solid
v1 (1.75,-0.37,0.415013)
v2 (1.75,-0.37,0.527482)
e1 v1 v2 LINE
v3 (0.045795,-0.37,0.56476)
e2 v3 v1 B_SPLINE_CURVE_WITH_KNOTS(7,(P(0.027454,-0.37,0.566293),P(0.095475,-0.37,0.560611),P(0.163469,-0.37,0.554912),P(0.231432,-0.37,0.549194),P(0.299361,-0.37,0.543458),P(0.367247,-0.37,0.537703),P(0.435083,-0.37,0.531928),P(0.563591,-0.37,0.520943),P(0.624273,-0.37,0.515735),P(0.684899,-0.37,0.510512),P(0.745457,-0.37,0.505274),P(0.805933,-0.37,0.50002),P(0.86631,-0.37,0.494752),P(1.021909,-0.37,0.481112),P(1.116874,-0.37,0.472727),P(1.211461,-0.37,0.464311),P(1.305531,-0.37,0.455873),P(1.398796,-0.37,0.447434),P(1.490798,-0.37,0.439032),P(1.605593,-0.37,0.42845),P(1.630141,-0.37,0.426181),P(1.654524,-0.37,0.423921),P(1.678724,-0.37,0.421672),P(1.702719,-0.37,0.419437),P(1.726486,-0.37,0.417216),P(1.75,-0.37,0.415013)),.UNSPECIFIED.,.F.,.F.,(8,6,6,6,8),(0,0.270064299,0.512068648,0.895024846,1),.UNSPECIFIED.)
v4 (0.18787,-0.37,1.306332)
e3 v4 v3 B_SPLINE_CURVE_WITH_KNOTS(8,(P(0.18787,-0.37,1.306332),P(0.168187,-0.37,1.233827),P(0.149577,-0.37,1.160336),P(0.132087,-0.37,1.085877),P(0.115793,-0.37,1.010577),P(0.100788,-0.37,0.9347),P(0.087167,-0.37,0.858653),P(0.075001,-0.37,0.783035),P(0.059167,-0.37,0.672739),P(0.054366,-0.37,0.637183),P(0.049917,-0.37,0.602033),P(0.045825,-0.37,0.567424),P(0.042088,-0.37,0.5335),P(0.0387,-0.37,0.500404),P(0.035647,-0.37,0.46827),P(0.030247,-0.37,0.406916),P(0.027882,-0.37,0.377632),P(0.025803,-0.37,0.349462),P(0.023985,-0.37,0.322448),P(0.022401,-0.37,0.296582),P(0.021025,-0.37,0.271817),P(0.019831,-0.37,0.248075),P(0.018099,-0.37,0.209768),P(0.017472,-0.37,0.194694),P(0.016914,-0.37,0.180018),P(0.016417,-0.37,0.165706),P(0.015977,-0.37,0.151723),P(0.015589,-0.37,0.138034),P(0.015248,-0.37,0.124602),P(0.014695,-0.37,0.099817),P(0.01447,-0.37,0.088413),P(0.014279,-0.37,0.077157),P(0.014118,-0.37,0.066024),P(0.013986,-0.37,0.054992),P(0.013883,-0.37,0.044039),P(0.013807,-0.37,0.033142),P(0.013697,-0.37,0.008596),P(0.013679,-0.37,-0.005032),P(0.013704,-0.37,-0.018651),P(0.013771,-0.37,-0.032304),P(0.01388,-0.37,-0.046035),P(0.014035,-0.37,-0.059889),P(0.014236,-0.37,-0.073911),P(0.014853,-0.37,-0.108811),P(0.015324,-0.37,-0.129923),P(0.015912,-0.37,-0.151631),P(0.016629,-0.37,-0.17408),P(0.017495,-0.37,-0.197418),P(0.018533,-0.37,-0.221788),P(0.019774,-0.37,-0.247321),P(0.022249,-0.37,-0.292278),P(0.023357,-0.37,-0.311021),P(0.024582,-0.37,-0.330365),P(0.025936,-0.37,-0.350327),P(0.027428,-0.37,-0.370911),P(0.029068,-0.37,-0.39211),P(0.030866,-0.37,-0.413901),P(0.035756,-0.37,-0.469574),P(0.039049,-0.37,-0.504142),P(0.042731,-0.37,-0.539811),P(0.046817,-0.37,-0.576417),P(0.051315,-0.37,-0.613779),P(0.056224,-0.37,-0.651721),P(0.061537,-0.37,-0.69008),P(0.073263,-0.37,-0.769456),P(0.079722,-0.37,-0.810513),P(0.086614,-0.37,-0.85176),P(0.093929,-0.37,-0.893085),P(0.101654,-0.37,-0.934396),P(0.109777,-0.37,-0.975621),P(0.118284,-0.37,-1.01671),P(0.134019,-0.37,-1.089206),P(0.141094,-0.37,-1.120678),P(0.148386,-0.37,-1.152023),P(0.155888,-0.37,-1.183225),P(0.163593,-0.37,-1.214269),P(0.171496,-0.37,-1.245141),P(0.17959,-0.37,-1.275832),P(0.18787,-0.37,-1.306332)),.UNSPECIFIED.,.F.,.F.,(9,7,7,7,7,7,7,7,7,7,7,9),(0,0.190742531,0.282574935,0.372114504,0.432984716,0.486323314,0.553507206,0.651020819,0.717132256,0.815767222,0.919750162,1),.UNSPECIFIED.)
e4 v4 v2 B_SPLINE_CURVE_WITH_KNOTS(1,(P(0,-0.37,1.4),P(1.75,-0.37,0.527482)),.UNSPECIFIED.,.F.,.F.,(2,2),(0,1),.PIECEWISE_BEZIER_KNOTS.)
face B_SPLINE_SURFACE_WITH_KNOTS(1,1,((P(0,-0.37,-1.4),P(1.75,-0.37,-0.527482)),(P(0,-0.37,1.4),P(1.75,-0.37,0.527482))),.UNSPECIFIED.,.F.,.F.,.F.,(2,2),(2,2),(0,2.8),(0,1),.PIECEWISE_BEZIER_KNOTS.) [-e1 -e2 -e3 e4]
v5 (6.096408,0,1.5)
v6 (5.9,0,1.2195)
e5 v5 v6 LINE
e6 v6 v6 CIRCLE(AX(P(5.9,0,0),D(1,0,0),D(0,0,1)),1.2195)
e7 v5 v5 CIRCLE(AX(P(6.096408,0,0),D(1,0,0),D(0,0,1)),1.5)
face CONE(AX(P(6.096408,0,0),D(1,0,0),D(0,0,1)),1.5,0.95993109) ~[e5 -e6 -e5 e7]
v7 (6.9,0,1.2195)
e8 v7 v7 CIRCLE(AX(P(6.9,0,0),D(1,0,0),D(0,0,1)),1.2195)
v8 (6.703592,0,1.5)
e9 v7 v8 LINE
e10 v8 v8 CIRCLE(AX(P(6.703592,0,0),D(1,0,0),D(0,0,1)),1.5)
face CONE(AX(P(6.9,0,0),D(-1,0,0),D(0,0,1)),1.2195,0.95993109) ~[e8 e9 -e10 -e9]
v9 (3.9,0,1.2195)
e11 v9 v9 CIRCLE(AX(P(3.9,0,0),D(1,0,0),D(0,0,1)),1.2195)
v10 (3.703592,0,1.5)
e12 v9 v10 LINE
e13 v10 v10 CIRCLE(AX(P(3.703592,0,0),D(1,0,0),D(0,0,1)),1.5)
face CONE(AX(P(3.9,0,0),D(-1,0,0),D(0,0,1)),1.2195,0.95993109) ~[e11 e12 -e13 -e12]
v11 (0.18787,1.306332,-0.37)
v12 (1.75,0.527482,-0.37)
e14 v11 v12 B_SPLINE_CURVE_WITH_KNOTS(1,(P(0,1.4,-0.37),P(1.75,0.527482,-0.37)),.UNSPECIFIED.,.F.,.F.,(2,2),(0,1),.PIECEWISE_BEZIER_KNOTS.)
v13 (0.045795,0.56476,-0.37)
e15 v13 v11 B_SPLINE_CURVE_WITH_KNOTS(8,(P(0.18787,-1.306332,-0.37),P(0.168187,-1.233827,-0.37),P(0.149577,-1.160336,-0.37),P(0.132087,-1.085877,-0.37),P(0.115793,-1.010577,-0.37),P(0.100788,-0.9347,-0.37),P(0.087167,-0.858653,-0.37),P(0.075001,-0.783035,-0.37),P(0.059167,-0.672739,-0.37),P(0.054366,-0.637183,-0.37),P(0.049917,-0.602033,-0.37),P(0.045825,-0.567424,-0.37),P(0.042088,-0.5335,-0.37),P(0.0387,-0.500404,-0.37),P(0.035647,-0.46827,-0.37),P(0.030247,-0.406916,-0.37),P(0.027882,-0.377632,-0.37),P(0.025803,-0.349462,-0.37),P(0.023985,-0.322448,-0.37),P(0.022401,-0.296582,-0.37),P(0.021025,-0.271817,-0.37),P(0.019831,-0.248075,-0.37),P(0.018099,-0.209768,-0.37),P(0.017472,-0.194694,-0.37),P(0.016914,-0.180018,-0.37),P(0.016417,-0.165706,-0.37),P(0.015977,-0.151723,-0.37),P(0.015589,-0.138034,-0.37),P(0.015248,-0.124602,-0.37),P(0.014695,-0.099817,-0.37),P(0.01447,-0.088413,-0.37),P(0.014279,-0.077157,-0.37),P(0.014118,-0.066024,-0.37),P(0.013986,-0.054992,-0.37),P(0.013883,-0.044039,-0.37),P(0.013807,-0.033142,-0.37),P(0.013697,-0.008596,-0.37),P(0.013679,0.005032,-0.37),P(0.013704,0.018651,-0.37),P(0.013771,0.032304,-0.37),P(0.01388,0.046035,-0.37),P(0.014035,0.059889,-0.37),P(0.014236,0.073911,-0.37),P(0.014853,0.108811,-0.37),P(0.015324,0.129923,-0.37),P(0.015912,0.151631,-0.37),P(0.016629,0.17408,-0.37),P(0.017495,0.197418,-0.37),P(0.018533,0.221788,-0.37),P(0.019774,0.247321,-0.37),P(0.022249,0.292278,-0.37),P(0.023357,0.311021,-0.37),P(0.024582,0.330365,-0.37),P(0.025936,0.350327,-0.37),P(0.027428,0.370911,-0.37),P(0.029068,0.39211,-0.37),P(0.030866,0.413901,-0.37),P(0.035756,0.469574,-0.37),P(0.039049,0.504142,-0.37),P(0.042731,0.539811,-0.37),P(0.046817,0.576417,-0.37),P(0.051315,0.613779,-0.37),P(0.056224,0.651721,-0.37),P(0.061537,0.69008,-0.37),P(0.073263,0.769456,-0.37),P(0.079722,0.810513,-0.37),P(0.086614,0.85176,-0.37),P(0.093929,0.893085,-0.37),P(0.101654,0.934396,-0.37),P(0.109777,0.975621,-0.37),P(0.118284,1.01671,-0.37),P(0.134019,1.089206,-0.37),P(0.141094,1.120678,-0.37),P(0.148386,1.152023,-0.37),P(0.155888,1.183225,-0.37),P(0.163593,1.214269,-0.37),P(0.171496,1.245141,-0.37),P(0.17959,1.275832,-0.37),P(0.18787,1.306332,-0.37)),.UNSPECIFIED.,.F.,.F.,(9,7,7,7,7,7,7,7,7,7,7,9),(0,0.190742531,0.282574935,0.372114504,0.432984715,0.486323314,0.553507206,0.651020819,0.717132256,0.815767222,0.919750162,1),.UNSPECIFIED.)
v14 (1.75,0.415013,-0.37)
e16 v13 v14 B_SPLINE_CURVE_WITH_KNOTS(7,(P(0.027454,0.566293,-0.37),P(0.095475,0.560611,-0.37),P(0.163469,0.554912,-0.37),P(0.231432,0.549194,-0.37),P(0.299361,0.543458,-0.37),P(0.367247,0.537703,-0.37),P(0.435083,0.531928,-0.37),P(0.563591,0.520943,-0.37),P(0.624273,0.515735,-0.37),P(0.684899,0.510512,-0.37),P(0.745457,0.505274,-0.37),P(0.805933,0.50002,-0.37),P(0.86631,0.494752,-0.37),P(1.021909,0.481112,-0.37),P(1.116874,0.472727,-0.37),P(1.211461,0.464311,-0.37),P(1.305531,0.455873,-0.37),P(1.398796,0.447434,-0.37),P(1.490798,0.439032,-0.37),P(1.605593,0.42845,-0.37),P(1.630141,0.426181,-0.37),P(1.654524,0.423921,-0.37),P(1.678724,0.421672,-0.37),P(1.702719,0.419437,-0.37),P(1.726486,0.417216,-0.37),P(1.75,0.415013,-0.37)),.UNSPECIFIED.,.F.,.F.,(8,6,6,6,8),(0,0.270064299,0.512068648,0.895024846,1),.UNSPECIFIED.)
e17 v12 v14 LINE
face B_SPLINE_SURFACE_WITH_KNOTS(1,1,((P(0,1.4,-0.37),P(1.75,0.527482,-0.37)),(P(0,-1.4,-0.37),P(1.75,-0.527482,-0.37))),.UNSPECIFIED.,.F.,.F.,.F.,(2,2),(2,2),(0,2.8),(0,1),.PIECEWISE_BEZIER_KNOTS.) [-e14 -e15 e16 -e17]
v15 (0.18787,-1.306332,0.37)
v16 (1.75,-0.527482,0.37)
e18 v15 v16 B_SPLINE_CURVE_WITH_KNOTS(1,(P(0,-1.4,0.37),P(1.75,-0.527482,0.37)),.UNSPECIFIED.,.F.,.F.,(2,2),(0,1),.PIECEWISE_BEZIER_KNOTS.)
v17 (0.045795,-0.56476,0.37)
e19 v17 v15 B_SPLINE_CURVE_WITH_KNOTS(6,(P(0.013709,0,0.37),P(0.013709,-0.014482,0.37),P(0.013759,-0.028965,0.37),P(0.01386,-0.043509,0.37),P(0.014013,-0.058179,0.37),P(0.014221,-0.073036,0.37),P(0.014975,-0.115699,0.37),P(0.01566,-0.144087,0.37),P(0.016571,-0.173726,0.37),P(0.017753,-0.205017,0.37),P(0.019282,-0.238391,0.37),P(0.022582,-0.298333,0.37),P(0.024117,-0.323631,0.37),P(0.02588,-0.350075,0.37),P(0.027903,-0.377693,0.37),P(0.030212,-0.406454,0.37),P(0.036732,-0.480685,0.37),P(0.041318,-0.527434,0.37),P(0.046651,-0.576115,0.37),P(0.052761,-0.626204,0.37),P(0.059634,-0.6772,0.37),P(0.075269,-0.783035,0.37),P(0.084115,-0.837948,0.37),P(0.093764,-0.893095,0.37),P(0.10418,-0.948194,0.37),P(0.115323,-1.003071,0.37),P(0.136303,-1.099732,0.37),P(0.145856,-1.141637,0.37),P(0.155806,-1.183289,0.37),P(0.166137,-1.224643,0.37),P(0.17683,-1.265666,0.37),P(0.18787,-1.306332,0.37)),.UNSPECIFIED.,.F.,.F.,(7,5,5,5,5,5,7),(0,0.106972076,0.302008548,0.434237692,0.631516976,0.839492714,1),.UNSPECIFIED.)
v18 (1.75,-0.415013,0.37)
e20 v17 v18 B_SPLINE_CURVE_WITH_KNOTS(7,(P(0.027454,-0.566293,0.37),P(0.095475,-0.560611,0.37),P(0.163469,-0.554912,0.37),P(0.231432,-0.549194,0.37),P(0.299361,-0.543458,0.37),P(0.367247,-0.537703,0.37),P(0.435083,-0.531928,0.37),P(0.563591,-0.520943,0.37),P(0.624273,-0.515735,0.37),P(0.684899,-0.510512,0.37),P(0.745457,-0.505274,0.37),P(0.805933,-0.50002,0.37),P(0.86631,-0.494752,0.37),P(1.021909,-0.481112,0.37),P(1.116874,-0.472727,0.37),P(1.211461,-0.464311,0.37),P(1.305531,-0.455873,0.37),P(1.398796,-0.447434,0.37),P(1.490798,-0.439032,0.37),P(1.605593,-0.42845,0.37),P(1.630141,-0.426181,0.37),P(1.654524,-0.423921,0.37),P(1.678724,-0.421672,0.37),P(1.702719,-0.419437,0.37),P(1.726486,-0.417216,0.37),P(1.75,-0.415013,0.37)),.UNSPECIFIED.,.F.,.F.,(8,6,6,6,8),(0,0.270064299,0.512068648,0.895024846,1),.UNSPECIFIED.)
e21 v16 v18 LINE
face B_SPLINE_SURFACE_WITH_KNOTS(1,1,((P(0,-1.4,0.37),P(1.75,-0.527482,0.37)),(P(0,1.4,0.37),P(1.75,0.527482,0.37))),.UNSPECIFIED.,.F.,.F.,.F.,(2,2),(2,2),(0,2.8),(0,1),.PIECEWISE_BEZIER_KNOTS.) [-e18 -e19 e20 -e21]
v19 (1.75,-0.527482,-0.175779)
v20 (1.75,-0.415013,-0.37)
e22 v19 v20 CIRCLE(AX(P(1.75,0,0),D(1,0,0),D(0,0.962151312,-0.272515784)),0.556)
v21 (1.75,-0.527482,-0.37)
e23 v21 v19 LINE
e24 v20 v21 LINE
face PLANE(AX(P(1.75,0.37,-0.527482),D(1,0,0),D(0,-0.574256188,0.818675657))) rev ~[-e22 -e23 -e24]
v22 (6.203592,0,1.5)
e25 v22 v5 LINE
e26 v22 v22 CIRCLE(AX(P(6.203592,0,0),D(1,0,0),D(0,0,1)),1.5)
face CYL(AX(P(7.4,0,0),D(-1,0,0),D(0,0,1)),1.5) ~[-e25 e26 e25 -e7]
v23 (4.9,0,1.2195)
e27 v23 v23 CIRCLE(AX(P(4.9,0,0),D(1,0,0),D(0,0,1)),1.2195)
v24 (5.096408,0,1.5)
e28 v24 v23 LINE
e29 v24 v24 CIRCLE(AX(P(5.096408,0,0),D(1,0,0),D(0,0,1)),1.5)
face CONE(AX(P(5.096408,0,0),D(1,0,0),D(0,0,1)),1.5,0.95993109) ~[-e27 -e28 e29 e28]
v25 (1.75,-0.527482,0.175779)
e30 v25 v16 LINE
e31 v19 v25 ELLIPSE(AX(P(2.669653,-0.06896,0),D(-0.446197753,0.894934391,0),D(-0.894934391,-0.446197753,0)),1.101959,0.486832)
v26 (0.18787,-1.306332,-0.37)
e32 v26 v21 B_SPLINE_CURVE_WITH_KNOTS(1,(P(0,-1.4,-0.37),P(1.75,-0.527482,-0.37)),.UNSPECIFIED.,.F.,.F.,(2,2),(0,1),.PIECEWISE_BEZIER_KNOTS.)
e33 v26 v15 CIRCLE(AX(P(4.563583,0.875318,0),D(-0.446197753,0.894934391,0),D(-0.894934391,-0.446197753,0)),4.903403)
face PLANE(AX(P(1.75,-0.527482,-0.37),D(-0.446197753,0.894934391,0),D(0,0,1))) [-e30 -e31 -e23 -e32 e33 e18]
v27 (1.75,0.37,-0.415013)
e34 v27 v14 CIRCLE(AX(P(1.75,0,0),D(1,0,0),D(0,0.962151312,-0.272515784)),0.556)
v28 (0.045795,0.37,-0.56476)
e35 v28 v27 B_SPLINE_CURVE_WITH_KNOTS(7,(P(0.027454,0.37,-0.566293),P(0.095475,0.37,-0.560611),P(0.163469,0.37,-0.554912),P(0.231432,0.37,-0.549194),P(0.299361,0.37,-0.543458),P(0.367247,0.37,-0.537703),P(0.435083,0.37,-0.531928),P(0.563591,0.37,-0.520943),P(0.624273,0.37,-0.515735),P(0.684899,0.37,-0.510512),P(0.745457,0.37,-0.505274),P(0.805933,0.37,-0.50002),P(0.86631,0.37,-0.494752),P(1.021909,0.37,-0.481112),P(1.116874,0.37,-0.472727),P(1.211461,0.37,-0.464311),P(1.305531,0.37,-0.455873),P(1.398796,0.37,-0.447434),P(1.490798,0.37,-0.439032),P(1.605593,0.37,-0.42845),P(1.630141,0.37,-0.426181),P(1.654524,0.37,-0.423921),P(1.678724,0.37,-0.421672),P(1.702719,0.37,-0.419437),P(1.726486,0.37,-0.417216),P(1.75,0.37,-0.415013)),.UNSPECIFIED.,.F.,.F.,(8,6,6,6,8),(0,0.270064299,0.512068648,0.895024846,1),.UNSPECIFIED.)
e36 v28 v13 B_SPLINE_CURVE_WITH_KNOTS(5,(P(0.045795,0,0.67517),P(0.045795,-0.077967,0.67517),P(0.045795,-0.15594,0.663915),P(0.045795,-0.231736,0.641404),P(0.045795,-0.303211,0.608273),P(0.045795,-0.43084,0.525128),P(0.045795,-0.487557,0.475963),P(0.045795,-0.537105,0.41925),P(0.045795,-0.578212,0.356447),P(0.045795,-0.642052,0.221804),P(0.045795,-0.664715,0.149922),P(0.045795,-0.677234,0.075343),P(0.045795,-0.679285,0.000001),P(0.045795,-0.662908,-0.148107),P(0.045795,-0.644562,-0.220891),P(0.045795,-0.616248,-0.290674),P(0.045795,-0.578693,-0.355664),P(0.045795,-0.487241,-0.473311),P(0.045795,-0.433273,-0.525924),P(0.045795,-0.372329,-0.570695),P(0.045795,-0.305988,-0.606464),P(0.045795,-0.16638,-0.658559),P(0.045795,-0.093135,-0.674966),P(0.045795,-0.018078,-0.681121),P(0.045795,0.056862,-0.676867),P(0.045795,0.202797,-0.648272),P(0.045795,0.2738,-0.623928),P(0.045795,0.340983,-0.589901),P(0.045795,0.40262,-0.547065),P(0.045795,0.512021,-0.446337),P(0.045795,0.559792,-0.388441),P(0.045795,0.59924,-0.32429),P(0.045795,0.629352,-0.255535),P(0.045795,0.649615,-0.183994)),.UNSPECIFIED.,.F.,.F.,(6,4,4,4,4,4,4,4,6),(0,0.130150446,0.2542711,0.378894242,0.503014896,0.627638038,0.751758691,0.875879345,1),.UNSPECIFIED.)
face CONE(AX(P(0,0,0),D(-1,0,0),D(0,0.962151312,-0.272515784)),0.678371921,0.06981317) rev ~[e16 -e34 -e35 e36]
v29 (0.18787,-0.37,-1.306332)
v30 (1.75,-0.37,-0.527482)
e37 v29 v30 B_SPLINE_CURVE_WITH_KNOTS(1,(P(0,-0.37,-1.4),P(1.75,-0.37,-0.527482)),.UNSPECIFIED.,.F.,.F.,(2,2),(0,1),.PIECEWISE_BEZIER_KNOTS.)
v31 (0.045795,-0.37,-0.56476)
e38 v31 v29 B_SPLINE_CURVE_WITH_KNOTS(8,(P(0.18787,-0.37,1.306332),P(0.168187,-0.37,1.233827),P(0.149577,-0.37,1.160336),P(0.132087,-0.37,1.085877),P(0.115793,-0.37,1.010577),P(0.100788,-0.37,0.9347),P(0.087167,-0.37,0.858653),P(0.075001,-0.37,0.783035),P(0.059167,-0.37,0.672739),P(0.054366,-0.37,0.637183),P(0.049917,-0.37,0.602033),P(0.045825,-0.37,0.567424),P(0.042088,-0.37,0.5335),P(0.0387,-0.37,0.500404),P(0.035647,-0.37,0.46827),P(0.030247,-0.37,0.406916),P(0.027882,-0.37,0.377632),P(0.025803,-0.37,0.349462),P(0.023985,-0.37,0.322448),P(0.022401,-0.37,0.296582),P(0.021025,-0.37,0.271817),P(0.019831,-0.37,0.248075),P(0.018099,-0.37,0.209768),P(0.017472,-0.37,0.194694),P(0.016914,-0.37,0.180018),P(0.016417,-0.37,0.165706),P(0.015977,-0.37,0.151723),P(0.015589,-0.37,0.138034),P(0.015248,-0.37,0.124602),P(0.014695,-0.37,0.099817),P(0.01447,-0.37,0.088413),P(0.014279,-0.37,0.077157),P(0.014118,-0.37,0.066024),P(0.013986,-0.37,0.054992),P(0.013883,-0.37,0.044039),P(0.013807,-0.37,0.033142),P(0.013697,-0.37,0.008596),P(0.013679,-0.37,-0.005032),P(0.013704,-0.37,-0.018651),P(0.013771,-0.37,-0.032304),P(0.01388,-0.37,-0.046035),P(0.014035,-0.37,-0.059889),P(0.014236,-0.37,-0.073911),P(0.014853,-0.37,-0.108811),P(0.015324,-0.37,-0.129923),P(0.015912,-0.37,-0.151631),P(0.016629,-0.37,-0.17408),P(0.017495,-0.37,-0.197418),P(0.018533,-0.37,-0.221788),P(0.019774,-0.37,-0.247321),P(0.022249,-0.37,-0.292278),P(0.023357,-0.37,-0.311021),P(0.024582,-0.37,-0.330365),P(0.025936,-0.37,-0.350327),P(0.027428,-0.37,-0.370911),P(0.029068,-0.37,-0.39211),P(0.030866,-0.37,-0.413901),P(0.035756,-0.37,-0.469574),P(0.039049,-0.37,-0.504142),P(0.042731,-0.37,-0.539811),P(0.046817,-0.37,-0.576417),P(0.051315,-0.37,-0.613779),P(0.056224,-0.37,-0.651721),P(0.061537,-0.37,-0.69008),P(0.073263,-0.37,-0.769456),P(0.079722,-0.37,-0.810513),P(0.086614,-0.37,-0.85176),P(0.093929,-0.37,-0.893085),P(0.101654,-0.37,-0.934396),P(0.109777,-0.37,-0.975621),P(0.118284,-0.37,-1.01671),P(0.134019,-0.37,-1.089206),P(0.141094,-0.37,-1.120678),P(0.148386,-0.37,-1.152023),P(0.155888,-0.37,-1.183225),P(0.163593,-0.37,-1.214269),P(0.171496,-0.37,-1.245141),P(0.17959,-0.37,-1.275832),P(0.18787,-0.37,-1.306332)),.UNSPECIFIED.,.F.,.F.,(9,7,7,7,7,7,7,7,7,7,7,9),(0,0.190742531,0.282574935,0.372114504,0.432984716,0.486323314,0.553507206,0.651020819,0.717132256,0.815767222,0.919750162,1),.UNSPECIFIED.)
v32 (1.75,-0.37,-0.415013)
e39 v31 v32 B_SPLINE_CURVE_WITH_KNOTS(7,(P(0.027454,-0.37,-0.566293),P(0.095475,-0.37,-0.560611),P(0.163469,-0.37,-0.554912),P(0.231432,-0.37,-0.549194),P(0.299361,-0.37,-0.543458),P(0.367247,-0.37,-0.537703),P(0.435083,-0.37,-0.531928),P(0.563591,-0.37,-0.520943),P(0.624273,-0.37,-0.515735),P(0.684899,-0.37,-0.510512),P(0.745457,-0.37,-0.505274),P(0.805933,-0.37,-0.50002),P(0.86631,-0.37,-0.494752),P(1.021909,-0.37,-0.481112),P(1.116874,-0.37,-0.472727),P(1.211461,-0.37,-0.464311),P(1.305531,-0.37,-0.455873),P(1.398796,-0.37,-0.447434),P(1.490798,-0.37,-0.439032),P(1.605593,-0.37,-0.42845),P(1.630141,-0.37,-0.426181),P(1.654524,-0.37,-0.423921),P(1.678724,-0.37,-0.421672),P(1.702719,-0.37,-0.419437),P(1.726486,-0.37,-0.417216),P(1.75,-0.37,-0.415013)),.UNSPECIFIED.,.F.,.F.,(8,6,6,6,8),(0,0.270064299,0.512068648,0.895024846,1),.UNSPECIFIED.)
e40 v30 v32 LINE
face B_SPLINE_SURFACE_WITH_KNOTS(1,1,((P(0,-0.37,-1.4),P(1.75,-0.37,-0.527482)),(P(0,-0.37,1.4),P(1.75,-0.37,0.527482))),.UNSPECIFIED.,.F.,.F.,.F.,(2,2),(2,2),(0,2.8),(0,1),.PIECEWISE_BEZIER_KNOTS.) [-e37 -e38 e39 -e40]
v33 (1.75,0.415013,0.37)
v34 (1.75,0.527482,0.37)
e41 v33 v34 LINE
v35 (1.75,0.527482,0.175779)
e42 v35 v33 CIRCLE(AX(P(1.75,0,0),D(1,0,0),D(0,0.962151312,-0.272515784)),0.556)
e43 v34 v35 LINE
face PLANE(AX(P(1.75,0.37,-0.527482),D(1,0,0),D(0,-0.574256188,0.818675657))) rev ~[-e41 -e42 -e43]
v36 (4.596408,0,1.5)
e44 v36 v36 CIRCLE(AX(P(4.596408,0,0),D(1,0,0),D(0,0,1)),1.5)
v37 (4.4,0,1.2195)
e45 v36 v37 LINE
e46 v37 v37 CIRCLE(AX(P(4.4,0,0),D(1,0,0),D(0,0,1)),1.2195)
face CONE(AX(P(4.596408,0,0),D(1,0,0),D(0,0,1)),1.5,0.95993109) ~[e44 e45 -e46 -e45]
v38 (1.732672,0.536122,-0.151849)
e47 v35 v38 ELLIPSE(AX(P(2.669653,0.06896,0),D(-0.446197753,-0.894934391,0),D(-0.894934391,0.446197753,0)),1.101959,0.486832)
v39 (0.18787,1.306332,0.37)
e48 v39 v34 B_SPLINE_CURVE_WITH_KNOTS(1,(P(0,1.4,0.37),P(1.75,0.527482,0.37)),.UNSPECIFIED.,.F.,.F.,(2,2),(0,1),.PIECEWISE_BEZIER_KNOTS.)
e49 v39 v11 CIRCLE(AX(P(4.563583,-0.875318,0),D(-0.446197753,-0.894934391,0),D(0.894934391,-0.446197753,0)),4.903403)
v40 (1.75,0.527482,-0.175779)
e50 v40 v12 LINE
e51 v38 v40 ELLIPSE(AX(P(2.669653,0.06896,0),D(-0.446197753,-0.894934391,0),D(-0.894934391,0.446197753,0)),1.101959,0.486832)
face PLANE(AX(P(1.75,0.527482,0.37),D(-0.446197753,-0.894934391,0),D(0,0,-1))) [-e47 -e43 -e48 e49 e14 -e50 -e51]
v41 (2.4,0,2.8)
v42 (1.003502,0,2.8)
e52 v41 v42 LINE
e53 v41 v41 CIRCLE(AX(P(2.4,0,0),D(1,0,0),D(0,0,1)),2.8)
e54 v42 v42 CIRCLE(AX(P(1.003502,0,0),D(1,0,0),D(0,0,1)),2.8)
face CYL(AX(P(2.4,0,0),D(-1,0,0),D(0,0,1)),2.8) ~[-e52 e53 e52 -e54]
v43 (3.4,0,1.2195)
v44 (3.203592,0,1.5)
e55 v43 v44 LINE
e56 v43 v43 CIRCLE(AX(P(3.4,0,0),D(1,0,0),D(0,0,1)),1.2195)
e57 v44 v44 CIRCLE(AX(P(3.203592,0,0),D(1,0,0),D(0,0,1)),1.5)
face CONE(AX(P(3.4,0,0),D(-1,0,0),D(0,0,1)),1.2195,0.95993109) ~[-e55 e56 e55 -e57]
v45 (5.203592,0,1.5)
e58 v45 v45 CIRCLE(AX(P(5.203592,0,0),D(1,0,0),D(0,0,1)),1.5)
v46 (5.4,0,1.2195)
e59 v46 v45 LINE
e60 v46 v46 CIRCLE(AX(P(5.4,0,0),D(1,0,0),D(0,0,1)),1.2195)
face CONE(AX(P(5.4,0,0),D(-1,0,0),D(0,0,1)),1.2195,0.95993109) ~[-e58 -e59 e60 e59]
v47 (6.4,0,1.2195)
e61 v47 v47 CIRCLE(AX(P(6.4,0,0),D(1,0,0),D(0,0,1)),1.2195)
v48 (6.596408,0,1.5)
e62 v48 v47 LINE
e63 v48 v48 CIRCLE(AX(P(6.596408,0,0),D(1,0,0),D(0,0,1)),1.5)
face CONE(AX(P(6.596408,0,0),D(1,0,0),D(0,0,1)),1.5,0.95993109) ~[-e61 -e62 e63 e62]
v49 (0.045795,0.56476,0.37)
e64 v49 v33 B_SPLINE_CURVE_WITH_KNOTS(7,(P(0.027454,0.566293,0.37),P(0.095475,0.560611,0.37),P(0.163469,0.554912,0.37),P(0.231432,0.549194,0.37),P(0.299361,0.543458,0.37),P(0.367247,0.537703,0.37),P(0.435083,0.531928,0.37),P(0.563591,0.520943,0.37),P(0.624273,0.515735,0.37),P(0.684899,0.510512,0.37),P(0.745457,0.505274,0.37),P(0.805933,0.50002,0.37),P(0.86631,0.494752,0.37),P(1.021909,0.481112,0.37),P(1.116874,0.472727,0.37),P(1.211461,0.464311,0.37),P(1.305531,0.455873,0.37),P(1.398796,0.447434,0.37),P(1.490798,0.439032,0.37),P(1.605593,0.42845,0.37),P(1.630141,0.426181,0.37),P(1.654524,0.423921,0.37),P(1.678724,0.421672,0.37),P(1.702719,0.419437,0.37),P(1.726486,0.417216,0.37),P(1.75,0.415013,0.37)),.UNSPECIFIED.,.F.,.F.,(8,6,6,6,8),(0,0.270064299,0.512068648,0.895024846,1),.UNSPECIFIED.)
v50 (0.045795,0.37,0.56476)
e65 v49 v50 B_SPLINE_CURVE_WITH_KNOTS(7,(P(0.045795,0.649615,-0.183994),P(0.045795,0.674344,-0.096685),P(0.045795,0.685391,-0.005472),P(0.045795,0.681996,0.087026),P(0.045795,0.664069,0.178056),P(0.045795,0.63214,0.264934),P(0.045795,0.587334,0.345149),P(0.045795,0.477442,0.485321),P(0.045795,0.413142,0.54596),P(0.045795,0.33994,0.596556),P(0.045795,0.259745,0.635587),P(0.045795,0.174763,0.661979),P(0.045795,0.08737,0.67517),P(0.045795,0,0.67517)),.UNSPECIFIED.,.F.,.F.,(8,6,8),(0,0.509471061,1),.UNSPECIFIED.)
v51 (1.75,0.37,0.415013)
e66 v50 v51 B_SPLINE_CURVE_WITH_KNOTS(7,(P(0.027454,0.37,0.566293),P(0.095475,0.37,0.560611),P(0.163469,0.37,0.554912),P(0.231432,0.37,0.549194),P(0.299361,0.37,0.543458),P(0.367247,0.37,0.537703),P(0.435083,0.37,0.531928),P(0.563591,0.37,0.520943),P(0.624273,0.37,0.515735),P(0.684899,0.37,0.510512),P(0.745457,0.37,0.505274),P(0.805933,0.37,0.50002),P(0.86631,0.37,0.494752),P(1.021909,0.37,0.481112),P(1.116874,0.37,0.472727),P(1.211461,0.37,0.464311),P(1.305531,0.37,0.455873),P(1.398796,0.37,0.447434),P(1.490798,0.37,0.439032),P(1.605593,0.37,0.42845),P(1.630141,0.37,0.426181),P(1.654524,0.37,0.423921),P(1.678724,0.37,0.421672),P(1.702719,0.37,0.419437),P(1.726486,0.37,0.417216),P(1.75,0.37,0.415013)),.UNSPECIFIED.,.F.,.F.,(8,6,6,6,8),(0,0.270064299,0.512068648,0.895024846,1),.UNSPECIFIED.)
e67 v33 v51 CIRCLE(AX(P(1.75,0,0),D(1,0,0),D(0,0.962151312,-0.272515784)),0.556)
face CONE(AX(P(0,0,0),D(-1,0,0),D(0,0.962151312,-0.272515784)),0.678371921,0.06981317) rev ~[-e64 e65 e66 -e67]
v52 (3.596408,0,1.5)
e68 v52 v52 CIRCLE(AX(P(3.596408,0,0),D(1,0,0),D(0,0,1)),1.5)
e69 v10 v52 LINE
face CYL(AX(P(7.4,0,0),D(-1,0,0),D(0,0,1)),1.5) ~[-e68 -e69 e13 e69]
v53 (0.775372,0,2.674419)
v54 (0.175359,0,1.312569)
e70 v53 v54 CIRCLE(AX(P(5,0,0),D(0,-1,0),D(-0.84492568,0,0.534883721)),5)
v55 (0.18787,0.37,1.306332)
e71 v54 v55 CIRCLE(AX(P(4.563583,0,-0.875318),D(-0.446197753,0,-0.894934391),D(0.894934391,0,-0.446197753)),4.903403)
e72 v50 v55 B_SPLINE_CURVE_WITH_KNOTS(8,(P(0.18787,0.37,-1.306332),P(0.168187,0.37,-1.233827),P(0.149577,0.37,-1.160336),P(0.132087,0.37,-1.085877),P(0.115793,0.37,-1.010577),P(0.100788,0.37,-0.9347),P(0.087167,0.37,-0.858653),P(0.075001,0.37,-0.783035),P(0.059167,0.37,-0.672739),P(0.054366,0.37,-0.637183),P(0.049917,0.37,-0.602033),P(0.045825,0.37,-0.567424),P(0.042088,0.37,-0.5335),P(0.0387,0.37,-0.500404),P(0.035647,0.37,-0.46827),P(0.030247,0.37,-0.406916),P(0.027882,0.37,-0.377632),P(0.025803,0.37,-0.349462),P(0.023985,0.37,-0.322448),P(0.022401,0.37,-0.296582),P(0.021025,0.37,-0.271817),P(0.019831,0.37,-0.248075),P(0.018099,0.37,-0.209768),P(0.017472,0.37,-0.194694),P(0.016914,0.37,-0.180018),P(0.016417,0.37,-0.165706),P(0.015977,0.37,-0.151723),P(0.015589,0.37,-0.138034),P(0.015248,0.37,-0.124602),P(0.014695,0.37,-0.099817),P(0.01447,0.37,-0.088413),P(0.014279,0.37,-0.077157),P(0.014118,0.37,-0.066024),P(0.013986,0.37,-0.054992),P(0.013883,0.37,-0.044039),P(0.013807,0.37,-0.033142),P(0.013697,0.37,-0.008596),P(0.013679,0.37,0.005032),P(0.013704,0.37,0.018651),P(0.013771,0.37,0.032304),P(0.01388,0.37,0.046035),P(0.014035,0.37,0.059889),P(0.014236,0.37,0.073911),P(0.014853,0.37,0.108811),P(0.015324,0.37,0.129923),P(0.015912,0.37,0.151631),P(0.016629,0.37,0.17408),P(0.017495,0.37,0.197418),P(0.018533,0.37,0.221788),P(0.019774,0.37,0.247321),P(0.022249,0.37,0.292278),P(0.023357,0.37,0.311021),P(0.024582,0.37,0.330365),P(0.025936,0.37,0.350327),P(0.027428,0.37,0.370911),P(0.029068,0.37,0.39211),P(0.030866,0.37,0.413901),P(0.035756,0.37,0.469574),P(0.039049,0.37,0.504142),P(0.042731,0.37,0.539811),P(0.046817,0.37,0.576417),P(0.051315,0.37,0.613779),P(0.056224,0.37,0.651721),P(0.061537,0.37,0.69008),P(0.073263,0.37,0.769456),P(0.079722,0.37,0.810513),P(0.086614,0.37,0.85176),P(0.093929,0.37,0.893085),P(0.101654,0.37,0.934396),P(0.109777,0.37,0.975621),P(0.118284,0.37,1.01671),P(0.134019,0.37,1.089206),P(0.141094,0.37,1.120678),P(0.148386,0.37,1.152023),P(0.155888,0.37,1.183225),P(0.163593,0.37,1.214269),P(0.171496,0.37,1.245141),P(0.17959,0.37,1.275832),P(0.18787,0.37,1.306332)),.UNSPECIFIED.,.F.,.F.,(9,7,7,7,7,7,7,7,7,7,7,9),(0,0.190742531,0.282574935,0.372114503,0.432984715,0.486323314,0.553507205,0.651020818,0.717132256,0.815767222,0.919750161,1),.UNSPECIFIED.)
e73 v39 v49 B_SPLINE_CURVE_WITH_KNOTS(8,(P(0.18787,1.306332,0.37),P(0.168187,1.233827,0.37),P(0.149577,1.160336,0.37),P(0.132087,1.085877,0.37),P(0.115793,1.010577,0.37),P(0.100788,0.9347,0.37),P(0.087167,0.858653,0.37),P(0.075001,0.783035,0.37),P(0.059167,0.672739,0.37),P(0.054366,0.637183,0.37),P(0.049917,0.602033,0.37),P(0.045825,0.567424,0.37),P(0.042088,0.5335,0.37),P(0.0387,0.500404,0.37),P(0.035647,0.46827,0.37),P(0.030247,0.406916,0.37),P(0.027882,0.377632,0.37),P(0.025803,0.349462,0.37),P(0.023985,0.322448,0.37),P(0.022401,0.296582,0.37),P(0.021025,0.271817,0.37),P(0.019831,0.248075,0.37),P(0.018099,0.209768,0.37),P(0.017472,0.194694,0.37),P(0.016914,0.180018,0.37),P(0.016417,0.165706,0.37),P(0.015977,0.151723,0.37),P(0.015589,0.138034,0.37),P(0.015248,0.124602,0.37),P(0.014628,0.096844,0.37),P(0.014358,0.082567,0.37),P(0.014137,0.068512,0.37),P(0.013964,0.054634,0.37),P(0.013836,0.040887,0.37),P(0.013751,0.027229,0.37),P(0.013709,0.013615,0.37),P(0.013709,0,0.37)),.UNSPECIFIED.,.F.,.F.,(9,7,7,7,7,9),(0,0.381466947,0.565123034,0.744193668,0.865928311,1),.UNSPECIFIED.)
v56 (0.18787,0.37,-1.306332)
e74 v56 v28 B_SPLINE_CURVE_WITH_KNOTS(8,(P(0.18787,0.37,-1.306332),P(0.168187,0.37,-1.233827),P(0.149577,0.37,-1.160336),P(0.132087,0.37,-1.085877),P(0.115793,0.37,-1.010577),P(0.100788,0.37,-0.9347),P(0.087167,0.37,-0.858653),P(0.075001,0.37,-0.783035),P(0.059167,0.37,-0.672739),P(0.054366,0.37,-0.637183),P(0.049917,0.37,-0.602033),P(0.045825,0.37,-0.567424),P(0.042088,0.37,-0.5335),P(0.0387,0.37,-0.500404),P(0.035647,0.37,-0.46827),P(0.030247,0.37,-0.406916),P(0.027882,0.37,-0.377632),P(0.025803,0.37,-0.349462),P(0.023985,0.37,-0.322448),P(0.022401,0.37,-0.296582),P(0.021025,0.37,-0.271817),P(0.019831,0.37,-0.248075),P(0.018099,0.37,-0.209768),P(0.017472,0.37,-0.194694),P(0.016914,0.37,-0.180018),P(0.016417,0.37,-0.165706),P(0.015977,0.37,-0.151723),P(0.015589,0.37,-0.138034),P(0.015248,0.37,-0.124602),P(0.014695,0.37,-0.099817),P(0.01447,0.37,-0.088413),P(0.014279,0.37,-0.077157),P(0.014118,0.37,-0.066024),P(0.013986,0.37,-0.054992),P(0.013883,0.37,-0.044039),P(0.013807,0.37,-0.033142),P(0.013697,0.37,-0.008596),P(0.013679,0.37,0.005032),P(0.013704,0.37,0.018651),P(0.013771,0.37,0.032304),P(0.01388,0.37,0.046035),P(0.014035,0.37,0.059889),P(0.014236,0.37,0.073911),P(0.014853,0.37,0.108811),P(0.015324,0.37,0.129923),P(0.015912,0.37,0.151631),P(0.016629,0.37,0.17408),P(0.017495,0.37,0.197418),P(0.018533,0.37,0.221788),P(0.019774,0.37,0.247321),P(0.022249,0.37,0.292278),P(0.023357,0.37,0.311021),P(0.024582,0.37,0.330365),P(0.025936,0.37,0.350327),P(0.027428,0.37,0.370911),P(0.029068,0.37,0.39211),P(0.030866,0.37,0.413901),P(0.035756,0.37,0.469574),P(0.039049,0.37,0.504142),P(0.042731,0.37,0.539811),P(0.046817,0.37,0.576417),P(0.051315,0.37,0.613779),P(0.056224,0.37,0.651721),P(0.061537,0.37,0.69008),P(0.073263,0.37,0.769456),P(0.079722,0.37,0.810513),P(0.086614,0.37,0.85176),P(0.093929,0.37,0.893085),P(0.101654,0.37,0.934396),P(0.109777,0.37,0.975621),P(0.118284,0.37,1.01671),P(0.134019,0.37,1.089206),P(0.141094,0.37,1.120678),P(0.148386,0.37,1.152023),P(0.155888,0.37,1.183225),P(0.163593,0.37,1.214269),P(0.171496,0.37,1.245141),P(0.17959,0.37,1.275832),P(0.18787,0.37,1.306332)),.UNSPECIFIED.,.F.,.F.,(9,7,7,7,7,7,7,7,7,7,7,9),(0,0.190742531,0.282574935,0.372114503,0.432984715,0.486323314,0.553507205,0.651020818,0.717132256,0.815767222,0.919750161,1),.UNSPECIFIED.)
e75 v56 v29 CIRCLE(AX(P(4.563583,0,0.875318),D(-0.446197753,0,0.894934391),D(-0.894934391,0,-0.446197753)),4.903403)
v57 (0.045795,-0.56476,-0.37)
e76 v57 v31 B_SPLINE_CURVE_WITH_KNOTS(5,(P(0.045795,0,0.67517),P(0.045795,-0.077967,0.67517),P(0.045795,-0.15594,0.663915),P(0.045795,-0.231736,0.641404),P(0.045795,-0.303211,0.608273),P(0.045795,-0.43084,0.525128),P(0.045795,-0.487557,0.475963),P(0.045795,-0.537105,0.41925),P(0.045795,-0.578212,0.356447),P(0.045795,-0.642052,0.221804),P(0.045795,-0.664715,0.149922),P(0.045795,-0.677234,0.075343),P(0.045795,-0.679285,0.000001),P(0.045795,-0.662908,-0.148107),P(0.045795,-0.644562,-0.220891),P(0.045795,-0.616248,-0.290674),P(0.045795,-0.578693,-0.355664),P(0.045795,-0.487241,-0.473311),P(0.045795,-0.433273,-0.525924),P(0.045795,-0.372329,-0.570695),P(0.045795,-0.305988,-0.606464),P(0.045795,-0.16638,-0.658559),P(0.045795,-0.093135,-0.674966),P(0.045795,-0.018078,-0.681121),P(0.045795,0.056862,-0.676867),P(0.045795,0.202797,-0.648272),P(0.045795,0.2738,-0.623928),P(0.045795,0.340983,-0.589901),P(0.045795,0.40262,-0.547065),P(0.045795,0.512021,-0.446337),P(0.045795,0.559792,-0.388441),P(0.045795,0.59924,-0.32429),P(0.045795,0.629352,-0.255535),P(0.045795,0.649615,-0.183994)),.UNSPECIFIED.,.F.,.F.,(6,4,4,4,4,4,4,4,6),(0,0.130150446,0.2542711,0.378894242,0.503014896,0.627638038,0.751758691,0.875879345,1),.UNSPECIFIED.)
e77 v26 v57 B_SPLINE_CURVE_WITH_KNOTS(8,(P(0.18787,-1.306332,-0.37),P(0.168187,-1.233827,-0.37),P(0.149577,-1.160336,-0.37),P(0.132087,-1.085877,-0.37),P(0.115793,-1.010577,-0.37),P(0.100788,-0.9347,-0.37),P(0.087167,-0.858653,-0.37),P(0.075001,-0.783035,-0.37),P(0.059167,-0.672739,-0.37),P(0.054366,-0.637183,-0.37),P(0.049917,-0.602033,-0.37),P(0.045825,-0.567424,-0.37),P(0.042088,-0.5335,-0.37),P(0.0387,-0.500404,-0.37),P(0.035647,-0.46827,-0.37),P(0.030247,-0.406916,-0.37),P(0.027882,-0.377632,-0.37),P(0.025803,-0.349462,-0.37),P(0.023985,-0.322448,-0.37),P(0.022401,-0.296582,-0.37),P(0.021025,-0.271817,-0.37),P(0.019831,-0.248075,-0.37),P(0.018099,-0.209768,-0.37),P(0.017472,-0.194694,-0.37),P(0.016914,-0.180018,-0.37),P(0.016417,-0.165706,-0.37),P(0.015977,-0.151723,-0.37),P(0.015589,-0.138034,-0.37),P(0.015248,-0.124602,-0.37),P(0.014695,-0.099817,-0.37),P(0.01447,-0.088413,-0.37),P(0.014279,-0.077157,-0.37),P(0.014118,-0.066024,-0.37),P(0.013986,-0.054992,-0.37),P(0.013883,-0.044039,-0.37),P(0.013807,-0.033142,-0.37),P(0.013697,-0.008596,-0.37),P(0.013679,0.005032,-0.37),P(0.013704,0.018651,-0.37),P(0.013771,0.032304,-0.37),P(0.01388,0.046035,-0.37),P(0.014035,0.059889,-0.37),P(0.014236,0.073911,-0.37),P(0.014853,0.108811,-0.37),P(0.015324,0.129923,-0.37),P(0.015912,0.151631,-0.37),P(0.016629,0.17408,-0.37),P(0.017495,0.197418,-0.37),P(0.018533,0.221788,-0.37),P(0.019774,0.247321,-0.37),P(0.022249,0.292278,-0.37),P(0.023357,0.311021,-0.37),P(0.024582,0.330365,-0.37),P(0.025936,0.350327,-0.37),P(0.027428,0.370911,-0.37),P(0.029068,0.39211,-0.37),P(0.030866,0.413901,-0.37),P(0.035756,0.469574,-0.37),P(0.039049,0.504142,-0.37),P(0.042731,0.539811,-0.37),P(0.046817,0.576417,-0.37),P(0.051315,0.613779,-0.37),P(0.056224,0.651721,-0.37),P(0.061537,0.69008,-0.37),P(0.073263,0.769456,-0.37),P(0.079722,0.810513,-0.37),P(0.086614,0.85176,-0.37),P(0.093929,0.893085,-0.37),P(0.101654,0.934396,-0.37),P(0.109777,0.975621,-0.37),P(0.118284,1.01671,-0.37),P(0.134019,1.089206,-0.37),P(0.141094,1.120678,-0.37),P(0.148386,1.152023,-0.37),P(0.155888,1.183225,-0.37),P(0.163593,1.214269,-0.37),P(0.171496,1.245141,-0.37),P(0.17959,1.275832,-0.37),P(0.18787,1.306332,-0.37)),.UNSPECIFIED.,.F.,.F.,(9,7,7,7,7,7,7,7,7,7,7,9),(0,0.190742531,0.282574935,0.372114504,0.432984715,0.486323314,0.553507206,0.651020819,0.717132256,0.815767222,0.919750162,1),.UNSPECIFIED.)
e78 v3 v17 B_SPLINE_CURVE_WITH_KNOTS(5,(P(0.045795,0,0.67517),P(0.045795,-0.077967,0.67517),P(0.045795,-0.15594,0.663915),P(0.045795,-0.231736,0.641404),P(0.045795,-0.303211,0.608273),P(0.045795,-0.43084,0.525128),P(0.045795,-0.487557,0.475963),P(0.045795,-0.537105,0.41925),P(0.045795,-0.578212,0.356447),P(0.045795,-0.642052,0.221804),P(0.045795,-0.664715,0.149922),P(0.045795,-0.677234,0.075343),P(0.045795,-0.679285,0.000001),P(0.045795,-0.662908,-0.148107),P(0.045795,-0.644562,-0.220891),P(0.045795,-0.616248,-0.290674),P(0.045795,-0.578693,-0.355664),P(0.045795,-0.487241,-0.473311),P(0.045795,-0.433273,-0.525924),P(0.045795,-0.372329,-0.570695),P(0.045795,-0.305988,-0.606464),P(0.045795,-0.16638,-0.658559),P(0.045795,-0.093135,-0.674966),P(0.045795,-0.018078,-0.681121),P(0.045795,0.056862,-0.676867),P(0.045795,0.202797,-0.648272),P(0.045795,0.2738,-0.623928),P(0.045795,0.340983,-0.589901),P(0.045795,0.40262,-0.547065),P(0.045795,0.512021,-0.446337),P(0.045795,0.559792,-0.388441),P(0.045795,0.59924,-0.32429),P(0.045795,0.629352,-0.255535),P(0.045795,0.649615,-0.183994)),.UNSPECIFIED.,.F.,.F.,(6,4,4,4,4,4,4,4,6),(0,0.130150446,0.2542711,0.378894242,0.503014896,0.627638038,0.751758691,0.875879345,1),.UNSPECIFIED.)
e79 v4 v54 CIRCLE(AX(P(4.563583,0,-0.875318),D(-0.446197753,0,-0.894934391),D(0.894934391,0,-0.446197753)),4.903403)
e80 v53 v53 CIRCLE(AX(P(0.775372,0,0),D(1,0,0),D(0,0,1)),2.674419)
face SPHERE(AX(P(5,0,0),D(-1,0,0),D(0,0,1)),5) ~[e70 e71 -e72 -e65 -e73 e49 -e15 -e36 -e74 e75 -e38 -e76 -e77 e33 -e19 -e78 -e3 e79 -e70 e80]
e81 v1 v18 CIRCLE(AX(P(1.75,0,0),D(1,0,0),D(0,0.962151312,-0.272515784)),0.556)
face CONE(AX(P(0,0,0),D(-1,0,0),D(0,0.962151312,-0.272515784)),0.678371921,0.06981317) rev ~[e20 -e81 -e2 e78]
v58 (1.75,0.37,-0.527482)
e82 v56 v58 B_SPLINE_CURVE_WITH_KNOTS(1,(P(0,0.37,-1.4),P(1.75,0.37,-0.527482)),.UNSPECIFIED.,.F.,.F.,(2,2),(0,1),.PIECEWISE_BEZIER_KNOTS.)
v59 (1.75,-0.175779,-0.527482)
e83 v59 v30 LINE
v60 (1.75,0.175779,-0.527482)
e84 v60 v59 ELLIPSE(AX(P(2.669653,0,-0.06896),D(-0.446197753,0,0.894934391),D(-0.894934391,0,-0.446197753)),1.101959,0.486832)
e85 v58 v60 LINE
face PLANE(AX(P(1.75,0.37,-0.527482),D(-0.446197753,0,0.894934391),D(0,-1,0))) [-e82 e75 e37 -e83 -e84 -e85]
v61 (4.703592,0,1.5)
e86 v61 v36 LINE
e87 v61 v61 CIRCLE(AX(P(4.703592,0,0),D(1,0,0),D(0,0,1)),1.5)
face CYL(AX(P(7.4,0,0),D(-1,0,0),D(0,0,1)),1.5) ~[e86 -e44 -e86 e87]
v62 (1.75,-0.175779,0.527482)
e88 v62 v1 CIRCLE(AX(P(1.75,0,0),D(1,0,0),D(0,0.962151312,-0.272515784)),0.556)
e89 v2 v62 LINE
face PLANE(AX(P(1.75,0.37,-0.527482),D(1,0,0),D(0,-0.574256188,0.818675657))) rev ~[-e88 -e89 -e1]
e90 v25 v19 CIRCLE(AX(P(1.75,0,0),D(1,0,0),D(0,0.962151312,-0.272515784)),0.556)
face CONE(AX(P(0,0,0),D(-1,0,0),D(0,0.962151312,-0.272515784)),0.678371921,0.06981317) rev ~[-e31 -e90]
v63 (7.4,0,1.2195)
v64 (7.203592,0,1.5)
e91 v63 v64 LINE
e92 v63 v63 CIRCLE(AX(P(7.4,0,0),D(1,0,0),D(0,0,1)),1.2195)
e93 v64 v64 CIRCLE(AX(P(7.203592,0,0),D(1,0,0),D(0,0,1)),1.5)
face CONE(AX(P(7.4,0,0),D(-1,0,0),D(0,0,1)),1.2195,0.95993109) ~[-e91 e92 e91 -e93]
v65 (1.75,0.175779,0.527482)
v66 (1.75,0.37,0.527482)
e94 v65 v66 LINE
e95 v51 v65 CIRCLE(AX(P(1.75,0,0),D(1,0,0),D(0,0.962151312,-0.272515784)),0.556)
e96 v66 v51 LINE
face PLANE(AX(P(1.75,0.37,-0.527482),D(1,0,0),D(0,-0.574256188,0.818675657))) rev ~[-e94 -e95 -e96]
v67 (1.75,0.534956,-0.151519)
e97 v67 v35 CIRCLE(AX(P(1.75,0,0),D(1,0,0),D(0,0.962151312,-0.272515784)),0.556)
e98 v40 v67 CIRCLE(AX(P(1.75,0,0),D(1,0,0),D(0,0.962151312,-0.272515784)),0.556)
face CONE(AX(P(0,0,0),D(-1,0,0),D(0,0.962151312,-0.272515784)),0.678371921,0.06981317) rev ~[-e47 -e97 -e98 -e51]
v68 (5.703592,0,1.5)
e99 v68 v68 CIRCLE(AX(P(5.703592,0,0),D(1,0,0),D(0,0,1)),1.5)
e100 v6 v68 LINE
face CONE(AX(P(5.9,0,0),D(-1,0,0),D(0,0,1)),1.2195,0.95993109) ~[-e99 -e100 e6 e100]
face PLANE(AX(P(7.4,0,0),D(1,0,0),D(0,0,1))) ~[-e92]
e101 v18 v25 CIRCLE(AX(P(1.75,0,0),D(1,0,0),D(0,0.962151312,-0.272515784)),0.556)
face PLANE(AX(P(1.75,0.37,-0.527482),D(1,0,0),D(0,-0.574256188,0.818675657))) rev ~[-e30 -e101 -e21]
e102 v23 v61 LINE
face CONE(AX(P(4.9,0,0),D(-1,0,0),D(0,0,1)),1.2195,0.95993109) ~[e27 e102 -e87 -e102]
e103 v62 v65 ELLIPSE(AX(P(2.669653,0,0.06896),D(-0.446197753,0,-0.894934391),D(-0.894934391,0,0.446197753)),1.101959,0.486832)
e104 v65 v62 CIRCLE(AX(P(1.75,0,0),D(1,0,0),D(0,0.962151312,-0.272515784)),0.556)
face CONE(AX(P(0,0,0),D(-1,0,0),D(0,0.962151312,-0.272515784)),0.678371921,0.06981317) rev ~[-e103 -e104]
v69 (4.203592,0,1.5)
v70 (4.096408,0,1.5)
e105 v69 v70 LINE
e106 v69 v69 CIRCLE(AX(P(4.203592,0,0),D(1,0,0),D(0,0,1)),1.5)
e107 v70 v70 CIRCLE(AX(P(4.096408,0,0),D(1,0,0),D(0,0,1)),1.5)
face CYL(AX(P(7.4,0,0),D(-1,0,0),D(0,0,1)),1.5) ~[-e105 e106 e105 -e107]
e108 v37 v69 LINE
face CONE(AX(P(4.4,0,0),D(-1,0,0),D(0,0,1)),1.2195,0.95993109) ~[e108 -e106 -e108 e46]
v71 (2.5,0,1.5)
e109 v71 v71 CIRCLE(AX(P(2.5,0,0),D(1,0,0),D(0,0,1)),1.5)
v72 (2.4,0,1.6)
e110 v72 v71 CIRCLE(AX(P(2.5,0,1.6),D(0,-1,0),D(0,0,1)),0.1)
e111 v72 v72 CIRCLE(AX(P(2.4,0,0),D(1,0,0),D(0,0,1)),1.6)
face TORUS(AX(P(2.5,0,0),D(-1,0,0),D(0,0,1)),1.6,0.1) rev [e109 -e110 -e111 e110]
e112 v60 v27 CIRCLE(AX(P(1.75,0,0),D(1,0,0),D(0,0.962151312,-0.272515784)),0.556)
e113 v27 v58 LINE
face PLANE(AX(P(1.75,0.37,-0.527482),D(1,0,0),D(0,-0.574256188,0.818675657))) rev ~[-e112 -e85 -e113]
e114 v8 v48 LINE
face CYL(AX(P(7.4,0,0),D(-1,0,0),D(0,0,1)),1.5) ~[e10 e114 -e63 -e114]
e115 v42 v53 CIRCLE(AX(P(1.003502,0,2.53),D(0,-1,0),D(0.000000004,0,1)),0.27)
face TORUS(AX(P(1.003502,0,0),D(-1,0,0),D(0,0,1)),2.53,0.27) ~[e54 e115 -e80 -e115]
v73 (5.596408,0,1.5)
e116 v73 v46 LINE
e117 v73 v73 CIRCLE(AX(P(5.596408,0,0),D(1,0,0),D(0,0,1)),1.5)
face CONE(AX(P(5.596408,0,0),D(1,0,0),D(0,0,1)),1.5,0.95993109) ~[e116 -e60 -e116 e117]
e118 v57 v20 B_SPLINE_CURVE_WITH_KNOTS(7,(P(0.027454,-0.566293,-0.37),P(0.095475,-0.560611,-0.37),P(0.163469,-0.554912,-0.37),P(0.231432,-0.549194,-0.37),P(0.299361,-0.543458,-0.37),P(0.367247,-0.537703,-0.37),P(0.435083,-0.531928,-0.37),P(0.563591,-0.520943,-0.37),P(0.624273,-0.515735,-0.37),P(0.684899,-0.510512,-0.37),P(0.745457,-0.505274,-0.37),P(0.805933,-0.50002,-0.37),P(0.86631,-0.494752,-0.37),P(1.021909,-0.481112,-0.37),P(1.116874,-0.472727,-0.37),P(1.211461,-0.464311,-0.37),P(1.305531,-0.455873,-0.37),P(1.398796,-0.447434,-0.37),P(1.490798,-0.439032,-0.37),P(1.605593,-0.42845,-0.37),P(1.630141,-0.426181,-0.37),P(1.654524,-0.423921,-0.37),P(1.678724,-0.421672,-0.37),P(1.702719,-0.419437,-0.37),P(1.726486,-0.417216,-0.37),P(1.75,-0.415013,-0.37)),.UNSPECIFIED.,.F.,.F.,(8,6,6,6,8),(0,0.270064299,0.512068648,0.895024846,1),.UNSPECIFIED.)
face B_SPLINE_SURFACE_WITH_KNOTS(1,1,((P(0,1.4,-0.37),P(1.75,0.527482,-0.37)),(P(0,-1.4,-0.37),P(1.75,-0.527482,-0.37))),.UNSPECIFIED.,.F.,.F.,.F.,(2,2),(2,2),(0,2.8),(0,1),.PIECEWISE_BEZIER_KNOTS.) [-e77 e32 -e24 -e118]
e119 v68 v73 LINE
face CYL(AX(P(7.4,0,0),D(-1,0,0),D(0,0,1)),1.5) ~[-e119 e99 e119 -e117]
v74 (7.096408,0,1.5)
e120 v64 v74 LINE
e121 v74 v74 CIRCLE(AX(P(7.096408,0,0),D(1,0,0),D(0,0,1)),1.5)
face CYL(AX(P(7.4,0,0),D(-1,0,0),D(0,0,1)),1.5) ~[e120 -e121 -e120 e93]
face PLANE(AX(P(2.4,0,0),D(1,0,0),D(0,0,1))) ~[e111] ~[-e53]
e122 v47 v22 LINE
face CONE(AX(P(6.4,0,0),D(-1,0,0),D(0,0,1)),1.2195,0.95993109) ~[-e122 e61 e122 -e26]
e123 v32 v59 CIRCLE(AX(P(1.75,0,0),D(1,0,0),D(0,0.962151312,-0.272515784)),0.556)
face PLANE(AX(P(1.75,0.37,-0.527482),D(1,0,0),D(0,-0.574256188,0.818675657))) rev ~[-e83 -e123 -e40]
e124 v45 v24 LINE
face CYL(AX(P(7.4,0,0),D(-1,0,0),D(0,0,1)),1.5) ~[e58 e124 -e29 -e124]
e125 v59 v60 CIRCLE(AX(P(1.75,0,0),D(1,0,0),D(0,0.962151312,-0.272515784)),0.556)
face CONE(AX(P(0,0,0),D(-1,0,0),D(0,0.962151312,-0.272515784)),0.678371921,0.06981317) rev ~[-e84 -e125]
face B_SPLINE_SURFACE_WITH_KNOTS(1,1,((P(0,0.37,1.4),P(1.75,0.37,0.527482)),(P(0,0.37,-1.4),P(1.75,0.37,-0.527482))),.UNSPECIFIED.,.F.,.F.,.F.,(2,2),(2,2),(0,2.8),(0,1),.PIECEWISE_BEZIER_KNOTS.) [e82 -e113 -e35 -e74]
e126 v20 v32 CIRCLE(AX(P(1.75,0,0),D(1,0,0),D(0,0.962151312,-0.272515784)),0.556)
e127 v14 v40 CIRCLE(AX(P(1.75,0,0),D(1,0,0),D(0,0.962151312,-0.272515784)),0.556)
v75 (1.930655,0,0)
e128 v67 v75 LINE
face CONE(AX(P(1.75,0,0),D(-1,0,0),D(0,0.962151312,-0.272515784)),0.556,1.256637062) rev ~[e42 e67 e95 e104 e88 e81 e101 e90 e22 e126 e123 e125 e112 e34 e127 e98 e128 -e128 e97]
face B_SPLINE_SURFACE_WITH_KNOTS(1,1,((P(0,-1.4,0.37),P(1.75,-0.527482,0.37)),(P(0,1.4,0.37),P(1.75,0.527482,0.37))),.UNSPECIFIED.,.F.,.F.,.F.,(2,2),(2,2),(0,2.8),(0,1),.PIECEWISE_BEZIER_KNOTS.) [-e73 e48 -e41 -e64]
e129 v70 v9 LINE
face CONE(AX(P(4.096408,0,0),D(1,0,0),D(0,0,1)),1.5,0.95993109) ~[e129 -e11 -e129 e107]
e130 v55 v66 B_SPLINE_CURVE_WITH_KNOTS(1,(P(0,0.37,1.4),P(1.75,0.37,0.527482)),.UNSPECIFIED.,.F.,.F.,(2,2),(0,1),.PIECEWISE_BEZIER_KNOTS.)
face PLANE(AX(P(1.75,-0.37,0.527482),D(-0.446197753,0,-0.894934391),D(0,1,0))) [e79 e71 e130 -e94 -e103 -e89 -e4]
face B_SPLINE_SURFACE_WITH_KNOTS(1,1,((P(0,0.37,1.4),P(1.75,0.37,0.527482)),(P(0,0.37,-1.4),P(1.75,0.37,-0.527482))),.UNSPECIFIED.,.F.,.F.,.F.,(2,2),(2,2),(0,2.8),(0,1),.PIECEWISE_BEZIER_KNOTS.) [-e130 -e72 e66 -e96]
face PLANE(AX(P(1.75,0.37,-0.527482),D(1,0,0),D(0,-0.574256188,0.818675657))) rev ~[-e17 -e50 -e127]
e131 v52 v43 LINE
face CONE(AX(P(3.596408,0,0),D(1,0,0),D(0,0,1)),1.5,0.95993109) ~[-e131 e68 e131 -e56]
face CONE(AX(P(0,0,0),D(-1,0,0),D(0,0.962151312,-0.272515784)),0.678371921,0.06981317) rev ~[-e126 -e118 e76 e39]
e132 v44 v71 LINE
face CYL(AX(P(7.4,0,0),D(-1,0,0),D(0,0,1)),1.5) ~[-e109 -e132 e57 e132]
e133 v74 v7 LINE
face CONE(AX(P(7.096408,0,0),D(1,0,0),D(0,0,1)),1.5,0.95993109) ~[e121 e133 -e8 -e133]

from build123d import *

# Parameters (mm, degrees)
FILLET1_R       = 0.1
RECPAT_COUNT    = 2
RECPAT_ANGLE    = 90
THDSCHPAT_COUNT = 9
THDSCHPAT_PITCH = 0.5


with BuildPart() as part:
    # BodySke → Base-Revolve (revolve)
    with BuildSketch(Plane.XY, mode=Mode.PRIVATE) as base_revolve_sk:
        with BuildLine():
            Line((2.4, 1.5), (2.4, 2.8))
            Line((2.4, 2.8), (1.003501533, 2.8))
            ThreePointArc((1.003501533, 2.8), (0.873295971, 2.76653015), (0.775371599, 2.674418605))
            ThreePointArc((0.775371599, 2.674418605), (0.197753546, 1.392274756), (0, 0))
            Line((0, 0), (7.4, 0))
            Line((7.4, 0), (7.4, 1.5))
            Line((7.4, 1.5), (2.4, 1.5))
        make_face()
    revolve(base_revolve_sk.sketch.rotate(Axis((1.003501533, 0, 0), (1, 0, 0)), 90), axis=Axis((1.003501533, 0, 0), (1, 0, 0)))

    # Fillet1
    fillet1_edges = [part.edges().sort_by_distance(p)[0] for p in [
        (2.4, 0, -1.5),
    ]]
    fillet(fillet1_edges, radius=FILLET1_R)

    # Sketch3 → Recess section 0
    with BuildSketch(Plane(origin=(0, 0, 0), x_dir=(0, 0, -1), z_dir=(1, 0, 0))):
        with BuildLine():
            Line((0.37, -1.4), (-0.37, -1.4))
            Line((-0.37, -1.4), (-0.37, 1.4))
            Line((-0.37, 1.4), (0.37, 1.4))
            Line((0.37, 1.4), (0.37, -1.4))
        make_face()
    # Sketch4 → Recess section 1
    with BuildSketch(Plane(origin=(1.75, 0, 0), x_dir=(0, 0, -1), z_dir=(1, 0, 0))):
        with BuildLine():
            Line((0.37, -0.527482332), (-0.37, -0.527482332))
            Line((-0.37, -0.527482332), (-0.37, 0.527482332))
            Line((-0.37, 0.527482332), (0.37, 0.527482332))
            Line((0.37, 0.527482332), (0.37, -0.527482332))
        make_face()
    recess = loft(mode=Mode.SUBTRACT)

    # RecPat: Recess ×2 about axis
    recpat_axis = Axis((0, 0, 0), (1, 0, 0))
    for i in range(1, RECPAT_COUNT):
        add(recess.rotate(recpat_axis, i * RECPAT_ANGLE / (RECPAT_COUNT - 1)), mode=Mode.SUBTRACT)

    # RecCorSke → RecessCore (revolve, cut)
    with BuildSketch(Plane.XY, mode=Mode.PRIVATE) as recesscore_sk:
        Polygon((0, 0), (0, 0.678371921), (1.75, 0.556), (1.930655351, 0), align=None)
    revolve(recesscore_sk.sketch.rotate(Axis((-3.175, 0, 0), (1, 0, 0)), 344.185974362), axis=Axis((-3.175, 0, 0), (1, 0, 0)), mode=Mode.SUBTRACT)

    # ThdSchSke → ThreadSchematic (revolve, cut)
    with BuildSketch(Plane.XY, mode=Mode.PRIVATE) as threadschematic_sk:
        Polygon((3.4, -1.2195), (3.203591786, -1.5), (3.203591786, -1.875), (3.596408214, -1.875), (3.596408214, -1.5), align=None)
    threadschematic = revolve(threadschematic_sk.sketch.rotate(Axis((-3.175, 0, 0), (1, 0, 0)), 270), axis=Axis((-3.175, 0, 0), (1, 0, 0)), mode=Mode.SUBTRACT)

    # ThdSchPat: ThreadSchematic ×9
    with Locations(*[(i * THDSCHPAT_PITCH, 0, 0) for i in range(1, THDSCHPAT_COUNT)]):
        add(threadschematic, mode=Mode.SUBTRACT)


solid = part.part
